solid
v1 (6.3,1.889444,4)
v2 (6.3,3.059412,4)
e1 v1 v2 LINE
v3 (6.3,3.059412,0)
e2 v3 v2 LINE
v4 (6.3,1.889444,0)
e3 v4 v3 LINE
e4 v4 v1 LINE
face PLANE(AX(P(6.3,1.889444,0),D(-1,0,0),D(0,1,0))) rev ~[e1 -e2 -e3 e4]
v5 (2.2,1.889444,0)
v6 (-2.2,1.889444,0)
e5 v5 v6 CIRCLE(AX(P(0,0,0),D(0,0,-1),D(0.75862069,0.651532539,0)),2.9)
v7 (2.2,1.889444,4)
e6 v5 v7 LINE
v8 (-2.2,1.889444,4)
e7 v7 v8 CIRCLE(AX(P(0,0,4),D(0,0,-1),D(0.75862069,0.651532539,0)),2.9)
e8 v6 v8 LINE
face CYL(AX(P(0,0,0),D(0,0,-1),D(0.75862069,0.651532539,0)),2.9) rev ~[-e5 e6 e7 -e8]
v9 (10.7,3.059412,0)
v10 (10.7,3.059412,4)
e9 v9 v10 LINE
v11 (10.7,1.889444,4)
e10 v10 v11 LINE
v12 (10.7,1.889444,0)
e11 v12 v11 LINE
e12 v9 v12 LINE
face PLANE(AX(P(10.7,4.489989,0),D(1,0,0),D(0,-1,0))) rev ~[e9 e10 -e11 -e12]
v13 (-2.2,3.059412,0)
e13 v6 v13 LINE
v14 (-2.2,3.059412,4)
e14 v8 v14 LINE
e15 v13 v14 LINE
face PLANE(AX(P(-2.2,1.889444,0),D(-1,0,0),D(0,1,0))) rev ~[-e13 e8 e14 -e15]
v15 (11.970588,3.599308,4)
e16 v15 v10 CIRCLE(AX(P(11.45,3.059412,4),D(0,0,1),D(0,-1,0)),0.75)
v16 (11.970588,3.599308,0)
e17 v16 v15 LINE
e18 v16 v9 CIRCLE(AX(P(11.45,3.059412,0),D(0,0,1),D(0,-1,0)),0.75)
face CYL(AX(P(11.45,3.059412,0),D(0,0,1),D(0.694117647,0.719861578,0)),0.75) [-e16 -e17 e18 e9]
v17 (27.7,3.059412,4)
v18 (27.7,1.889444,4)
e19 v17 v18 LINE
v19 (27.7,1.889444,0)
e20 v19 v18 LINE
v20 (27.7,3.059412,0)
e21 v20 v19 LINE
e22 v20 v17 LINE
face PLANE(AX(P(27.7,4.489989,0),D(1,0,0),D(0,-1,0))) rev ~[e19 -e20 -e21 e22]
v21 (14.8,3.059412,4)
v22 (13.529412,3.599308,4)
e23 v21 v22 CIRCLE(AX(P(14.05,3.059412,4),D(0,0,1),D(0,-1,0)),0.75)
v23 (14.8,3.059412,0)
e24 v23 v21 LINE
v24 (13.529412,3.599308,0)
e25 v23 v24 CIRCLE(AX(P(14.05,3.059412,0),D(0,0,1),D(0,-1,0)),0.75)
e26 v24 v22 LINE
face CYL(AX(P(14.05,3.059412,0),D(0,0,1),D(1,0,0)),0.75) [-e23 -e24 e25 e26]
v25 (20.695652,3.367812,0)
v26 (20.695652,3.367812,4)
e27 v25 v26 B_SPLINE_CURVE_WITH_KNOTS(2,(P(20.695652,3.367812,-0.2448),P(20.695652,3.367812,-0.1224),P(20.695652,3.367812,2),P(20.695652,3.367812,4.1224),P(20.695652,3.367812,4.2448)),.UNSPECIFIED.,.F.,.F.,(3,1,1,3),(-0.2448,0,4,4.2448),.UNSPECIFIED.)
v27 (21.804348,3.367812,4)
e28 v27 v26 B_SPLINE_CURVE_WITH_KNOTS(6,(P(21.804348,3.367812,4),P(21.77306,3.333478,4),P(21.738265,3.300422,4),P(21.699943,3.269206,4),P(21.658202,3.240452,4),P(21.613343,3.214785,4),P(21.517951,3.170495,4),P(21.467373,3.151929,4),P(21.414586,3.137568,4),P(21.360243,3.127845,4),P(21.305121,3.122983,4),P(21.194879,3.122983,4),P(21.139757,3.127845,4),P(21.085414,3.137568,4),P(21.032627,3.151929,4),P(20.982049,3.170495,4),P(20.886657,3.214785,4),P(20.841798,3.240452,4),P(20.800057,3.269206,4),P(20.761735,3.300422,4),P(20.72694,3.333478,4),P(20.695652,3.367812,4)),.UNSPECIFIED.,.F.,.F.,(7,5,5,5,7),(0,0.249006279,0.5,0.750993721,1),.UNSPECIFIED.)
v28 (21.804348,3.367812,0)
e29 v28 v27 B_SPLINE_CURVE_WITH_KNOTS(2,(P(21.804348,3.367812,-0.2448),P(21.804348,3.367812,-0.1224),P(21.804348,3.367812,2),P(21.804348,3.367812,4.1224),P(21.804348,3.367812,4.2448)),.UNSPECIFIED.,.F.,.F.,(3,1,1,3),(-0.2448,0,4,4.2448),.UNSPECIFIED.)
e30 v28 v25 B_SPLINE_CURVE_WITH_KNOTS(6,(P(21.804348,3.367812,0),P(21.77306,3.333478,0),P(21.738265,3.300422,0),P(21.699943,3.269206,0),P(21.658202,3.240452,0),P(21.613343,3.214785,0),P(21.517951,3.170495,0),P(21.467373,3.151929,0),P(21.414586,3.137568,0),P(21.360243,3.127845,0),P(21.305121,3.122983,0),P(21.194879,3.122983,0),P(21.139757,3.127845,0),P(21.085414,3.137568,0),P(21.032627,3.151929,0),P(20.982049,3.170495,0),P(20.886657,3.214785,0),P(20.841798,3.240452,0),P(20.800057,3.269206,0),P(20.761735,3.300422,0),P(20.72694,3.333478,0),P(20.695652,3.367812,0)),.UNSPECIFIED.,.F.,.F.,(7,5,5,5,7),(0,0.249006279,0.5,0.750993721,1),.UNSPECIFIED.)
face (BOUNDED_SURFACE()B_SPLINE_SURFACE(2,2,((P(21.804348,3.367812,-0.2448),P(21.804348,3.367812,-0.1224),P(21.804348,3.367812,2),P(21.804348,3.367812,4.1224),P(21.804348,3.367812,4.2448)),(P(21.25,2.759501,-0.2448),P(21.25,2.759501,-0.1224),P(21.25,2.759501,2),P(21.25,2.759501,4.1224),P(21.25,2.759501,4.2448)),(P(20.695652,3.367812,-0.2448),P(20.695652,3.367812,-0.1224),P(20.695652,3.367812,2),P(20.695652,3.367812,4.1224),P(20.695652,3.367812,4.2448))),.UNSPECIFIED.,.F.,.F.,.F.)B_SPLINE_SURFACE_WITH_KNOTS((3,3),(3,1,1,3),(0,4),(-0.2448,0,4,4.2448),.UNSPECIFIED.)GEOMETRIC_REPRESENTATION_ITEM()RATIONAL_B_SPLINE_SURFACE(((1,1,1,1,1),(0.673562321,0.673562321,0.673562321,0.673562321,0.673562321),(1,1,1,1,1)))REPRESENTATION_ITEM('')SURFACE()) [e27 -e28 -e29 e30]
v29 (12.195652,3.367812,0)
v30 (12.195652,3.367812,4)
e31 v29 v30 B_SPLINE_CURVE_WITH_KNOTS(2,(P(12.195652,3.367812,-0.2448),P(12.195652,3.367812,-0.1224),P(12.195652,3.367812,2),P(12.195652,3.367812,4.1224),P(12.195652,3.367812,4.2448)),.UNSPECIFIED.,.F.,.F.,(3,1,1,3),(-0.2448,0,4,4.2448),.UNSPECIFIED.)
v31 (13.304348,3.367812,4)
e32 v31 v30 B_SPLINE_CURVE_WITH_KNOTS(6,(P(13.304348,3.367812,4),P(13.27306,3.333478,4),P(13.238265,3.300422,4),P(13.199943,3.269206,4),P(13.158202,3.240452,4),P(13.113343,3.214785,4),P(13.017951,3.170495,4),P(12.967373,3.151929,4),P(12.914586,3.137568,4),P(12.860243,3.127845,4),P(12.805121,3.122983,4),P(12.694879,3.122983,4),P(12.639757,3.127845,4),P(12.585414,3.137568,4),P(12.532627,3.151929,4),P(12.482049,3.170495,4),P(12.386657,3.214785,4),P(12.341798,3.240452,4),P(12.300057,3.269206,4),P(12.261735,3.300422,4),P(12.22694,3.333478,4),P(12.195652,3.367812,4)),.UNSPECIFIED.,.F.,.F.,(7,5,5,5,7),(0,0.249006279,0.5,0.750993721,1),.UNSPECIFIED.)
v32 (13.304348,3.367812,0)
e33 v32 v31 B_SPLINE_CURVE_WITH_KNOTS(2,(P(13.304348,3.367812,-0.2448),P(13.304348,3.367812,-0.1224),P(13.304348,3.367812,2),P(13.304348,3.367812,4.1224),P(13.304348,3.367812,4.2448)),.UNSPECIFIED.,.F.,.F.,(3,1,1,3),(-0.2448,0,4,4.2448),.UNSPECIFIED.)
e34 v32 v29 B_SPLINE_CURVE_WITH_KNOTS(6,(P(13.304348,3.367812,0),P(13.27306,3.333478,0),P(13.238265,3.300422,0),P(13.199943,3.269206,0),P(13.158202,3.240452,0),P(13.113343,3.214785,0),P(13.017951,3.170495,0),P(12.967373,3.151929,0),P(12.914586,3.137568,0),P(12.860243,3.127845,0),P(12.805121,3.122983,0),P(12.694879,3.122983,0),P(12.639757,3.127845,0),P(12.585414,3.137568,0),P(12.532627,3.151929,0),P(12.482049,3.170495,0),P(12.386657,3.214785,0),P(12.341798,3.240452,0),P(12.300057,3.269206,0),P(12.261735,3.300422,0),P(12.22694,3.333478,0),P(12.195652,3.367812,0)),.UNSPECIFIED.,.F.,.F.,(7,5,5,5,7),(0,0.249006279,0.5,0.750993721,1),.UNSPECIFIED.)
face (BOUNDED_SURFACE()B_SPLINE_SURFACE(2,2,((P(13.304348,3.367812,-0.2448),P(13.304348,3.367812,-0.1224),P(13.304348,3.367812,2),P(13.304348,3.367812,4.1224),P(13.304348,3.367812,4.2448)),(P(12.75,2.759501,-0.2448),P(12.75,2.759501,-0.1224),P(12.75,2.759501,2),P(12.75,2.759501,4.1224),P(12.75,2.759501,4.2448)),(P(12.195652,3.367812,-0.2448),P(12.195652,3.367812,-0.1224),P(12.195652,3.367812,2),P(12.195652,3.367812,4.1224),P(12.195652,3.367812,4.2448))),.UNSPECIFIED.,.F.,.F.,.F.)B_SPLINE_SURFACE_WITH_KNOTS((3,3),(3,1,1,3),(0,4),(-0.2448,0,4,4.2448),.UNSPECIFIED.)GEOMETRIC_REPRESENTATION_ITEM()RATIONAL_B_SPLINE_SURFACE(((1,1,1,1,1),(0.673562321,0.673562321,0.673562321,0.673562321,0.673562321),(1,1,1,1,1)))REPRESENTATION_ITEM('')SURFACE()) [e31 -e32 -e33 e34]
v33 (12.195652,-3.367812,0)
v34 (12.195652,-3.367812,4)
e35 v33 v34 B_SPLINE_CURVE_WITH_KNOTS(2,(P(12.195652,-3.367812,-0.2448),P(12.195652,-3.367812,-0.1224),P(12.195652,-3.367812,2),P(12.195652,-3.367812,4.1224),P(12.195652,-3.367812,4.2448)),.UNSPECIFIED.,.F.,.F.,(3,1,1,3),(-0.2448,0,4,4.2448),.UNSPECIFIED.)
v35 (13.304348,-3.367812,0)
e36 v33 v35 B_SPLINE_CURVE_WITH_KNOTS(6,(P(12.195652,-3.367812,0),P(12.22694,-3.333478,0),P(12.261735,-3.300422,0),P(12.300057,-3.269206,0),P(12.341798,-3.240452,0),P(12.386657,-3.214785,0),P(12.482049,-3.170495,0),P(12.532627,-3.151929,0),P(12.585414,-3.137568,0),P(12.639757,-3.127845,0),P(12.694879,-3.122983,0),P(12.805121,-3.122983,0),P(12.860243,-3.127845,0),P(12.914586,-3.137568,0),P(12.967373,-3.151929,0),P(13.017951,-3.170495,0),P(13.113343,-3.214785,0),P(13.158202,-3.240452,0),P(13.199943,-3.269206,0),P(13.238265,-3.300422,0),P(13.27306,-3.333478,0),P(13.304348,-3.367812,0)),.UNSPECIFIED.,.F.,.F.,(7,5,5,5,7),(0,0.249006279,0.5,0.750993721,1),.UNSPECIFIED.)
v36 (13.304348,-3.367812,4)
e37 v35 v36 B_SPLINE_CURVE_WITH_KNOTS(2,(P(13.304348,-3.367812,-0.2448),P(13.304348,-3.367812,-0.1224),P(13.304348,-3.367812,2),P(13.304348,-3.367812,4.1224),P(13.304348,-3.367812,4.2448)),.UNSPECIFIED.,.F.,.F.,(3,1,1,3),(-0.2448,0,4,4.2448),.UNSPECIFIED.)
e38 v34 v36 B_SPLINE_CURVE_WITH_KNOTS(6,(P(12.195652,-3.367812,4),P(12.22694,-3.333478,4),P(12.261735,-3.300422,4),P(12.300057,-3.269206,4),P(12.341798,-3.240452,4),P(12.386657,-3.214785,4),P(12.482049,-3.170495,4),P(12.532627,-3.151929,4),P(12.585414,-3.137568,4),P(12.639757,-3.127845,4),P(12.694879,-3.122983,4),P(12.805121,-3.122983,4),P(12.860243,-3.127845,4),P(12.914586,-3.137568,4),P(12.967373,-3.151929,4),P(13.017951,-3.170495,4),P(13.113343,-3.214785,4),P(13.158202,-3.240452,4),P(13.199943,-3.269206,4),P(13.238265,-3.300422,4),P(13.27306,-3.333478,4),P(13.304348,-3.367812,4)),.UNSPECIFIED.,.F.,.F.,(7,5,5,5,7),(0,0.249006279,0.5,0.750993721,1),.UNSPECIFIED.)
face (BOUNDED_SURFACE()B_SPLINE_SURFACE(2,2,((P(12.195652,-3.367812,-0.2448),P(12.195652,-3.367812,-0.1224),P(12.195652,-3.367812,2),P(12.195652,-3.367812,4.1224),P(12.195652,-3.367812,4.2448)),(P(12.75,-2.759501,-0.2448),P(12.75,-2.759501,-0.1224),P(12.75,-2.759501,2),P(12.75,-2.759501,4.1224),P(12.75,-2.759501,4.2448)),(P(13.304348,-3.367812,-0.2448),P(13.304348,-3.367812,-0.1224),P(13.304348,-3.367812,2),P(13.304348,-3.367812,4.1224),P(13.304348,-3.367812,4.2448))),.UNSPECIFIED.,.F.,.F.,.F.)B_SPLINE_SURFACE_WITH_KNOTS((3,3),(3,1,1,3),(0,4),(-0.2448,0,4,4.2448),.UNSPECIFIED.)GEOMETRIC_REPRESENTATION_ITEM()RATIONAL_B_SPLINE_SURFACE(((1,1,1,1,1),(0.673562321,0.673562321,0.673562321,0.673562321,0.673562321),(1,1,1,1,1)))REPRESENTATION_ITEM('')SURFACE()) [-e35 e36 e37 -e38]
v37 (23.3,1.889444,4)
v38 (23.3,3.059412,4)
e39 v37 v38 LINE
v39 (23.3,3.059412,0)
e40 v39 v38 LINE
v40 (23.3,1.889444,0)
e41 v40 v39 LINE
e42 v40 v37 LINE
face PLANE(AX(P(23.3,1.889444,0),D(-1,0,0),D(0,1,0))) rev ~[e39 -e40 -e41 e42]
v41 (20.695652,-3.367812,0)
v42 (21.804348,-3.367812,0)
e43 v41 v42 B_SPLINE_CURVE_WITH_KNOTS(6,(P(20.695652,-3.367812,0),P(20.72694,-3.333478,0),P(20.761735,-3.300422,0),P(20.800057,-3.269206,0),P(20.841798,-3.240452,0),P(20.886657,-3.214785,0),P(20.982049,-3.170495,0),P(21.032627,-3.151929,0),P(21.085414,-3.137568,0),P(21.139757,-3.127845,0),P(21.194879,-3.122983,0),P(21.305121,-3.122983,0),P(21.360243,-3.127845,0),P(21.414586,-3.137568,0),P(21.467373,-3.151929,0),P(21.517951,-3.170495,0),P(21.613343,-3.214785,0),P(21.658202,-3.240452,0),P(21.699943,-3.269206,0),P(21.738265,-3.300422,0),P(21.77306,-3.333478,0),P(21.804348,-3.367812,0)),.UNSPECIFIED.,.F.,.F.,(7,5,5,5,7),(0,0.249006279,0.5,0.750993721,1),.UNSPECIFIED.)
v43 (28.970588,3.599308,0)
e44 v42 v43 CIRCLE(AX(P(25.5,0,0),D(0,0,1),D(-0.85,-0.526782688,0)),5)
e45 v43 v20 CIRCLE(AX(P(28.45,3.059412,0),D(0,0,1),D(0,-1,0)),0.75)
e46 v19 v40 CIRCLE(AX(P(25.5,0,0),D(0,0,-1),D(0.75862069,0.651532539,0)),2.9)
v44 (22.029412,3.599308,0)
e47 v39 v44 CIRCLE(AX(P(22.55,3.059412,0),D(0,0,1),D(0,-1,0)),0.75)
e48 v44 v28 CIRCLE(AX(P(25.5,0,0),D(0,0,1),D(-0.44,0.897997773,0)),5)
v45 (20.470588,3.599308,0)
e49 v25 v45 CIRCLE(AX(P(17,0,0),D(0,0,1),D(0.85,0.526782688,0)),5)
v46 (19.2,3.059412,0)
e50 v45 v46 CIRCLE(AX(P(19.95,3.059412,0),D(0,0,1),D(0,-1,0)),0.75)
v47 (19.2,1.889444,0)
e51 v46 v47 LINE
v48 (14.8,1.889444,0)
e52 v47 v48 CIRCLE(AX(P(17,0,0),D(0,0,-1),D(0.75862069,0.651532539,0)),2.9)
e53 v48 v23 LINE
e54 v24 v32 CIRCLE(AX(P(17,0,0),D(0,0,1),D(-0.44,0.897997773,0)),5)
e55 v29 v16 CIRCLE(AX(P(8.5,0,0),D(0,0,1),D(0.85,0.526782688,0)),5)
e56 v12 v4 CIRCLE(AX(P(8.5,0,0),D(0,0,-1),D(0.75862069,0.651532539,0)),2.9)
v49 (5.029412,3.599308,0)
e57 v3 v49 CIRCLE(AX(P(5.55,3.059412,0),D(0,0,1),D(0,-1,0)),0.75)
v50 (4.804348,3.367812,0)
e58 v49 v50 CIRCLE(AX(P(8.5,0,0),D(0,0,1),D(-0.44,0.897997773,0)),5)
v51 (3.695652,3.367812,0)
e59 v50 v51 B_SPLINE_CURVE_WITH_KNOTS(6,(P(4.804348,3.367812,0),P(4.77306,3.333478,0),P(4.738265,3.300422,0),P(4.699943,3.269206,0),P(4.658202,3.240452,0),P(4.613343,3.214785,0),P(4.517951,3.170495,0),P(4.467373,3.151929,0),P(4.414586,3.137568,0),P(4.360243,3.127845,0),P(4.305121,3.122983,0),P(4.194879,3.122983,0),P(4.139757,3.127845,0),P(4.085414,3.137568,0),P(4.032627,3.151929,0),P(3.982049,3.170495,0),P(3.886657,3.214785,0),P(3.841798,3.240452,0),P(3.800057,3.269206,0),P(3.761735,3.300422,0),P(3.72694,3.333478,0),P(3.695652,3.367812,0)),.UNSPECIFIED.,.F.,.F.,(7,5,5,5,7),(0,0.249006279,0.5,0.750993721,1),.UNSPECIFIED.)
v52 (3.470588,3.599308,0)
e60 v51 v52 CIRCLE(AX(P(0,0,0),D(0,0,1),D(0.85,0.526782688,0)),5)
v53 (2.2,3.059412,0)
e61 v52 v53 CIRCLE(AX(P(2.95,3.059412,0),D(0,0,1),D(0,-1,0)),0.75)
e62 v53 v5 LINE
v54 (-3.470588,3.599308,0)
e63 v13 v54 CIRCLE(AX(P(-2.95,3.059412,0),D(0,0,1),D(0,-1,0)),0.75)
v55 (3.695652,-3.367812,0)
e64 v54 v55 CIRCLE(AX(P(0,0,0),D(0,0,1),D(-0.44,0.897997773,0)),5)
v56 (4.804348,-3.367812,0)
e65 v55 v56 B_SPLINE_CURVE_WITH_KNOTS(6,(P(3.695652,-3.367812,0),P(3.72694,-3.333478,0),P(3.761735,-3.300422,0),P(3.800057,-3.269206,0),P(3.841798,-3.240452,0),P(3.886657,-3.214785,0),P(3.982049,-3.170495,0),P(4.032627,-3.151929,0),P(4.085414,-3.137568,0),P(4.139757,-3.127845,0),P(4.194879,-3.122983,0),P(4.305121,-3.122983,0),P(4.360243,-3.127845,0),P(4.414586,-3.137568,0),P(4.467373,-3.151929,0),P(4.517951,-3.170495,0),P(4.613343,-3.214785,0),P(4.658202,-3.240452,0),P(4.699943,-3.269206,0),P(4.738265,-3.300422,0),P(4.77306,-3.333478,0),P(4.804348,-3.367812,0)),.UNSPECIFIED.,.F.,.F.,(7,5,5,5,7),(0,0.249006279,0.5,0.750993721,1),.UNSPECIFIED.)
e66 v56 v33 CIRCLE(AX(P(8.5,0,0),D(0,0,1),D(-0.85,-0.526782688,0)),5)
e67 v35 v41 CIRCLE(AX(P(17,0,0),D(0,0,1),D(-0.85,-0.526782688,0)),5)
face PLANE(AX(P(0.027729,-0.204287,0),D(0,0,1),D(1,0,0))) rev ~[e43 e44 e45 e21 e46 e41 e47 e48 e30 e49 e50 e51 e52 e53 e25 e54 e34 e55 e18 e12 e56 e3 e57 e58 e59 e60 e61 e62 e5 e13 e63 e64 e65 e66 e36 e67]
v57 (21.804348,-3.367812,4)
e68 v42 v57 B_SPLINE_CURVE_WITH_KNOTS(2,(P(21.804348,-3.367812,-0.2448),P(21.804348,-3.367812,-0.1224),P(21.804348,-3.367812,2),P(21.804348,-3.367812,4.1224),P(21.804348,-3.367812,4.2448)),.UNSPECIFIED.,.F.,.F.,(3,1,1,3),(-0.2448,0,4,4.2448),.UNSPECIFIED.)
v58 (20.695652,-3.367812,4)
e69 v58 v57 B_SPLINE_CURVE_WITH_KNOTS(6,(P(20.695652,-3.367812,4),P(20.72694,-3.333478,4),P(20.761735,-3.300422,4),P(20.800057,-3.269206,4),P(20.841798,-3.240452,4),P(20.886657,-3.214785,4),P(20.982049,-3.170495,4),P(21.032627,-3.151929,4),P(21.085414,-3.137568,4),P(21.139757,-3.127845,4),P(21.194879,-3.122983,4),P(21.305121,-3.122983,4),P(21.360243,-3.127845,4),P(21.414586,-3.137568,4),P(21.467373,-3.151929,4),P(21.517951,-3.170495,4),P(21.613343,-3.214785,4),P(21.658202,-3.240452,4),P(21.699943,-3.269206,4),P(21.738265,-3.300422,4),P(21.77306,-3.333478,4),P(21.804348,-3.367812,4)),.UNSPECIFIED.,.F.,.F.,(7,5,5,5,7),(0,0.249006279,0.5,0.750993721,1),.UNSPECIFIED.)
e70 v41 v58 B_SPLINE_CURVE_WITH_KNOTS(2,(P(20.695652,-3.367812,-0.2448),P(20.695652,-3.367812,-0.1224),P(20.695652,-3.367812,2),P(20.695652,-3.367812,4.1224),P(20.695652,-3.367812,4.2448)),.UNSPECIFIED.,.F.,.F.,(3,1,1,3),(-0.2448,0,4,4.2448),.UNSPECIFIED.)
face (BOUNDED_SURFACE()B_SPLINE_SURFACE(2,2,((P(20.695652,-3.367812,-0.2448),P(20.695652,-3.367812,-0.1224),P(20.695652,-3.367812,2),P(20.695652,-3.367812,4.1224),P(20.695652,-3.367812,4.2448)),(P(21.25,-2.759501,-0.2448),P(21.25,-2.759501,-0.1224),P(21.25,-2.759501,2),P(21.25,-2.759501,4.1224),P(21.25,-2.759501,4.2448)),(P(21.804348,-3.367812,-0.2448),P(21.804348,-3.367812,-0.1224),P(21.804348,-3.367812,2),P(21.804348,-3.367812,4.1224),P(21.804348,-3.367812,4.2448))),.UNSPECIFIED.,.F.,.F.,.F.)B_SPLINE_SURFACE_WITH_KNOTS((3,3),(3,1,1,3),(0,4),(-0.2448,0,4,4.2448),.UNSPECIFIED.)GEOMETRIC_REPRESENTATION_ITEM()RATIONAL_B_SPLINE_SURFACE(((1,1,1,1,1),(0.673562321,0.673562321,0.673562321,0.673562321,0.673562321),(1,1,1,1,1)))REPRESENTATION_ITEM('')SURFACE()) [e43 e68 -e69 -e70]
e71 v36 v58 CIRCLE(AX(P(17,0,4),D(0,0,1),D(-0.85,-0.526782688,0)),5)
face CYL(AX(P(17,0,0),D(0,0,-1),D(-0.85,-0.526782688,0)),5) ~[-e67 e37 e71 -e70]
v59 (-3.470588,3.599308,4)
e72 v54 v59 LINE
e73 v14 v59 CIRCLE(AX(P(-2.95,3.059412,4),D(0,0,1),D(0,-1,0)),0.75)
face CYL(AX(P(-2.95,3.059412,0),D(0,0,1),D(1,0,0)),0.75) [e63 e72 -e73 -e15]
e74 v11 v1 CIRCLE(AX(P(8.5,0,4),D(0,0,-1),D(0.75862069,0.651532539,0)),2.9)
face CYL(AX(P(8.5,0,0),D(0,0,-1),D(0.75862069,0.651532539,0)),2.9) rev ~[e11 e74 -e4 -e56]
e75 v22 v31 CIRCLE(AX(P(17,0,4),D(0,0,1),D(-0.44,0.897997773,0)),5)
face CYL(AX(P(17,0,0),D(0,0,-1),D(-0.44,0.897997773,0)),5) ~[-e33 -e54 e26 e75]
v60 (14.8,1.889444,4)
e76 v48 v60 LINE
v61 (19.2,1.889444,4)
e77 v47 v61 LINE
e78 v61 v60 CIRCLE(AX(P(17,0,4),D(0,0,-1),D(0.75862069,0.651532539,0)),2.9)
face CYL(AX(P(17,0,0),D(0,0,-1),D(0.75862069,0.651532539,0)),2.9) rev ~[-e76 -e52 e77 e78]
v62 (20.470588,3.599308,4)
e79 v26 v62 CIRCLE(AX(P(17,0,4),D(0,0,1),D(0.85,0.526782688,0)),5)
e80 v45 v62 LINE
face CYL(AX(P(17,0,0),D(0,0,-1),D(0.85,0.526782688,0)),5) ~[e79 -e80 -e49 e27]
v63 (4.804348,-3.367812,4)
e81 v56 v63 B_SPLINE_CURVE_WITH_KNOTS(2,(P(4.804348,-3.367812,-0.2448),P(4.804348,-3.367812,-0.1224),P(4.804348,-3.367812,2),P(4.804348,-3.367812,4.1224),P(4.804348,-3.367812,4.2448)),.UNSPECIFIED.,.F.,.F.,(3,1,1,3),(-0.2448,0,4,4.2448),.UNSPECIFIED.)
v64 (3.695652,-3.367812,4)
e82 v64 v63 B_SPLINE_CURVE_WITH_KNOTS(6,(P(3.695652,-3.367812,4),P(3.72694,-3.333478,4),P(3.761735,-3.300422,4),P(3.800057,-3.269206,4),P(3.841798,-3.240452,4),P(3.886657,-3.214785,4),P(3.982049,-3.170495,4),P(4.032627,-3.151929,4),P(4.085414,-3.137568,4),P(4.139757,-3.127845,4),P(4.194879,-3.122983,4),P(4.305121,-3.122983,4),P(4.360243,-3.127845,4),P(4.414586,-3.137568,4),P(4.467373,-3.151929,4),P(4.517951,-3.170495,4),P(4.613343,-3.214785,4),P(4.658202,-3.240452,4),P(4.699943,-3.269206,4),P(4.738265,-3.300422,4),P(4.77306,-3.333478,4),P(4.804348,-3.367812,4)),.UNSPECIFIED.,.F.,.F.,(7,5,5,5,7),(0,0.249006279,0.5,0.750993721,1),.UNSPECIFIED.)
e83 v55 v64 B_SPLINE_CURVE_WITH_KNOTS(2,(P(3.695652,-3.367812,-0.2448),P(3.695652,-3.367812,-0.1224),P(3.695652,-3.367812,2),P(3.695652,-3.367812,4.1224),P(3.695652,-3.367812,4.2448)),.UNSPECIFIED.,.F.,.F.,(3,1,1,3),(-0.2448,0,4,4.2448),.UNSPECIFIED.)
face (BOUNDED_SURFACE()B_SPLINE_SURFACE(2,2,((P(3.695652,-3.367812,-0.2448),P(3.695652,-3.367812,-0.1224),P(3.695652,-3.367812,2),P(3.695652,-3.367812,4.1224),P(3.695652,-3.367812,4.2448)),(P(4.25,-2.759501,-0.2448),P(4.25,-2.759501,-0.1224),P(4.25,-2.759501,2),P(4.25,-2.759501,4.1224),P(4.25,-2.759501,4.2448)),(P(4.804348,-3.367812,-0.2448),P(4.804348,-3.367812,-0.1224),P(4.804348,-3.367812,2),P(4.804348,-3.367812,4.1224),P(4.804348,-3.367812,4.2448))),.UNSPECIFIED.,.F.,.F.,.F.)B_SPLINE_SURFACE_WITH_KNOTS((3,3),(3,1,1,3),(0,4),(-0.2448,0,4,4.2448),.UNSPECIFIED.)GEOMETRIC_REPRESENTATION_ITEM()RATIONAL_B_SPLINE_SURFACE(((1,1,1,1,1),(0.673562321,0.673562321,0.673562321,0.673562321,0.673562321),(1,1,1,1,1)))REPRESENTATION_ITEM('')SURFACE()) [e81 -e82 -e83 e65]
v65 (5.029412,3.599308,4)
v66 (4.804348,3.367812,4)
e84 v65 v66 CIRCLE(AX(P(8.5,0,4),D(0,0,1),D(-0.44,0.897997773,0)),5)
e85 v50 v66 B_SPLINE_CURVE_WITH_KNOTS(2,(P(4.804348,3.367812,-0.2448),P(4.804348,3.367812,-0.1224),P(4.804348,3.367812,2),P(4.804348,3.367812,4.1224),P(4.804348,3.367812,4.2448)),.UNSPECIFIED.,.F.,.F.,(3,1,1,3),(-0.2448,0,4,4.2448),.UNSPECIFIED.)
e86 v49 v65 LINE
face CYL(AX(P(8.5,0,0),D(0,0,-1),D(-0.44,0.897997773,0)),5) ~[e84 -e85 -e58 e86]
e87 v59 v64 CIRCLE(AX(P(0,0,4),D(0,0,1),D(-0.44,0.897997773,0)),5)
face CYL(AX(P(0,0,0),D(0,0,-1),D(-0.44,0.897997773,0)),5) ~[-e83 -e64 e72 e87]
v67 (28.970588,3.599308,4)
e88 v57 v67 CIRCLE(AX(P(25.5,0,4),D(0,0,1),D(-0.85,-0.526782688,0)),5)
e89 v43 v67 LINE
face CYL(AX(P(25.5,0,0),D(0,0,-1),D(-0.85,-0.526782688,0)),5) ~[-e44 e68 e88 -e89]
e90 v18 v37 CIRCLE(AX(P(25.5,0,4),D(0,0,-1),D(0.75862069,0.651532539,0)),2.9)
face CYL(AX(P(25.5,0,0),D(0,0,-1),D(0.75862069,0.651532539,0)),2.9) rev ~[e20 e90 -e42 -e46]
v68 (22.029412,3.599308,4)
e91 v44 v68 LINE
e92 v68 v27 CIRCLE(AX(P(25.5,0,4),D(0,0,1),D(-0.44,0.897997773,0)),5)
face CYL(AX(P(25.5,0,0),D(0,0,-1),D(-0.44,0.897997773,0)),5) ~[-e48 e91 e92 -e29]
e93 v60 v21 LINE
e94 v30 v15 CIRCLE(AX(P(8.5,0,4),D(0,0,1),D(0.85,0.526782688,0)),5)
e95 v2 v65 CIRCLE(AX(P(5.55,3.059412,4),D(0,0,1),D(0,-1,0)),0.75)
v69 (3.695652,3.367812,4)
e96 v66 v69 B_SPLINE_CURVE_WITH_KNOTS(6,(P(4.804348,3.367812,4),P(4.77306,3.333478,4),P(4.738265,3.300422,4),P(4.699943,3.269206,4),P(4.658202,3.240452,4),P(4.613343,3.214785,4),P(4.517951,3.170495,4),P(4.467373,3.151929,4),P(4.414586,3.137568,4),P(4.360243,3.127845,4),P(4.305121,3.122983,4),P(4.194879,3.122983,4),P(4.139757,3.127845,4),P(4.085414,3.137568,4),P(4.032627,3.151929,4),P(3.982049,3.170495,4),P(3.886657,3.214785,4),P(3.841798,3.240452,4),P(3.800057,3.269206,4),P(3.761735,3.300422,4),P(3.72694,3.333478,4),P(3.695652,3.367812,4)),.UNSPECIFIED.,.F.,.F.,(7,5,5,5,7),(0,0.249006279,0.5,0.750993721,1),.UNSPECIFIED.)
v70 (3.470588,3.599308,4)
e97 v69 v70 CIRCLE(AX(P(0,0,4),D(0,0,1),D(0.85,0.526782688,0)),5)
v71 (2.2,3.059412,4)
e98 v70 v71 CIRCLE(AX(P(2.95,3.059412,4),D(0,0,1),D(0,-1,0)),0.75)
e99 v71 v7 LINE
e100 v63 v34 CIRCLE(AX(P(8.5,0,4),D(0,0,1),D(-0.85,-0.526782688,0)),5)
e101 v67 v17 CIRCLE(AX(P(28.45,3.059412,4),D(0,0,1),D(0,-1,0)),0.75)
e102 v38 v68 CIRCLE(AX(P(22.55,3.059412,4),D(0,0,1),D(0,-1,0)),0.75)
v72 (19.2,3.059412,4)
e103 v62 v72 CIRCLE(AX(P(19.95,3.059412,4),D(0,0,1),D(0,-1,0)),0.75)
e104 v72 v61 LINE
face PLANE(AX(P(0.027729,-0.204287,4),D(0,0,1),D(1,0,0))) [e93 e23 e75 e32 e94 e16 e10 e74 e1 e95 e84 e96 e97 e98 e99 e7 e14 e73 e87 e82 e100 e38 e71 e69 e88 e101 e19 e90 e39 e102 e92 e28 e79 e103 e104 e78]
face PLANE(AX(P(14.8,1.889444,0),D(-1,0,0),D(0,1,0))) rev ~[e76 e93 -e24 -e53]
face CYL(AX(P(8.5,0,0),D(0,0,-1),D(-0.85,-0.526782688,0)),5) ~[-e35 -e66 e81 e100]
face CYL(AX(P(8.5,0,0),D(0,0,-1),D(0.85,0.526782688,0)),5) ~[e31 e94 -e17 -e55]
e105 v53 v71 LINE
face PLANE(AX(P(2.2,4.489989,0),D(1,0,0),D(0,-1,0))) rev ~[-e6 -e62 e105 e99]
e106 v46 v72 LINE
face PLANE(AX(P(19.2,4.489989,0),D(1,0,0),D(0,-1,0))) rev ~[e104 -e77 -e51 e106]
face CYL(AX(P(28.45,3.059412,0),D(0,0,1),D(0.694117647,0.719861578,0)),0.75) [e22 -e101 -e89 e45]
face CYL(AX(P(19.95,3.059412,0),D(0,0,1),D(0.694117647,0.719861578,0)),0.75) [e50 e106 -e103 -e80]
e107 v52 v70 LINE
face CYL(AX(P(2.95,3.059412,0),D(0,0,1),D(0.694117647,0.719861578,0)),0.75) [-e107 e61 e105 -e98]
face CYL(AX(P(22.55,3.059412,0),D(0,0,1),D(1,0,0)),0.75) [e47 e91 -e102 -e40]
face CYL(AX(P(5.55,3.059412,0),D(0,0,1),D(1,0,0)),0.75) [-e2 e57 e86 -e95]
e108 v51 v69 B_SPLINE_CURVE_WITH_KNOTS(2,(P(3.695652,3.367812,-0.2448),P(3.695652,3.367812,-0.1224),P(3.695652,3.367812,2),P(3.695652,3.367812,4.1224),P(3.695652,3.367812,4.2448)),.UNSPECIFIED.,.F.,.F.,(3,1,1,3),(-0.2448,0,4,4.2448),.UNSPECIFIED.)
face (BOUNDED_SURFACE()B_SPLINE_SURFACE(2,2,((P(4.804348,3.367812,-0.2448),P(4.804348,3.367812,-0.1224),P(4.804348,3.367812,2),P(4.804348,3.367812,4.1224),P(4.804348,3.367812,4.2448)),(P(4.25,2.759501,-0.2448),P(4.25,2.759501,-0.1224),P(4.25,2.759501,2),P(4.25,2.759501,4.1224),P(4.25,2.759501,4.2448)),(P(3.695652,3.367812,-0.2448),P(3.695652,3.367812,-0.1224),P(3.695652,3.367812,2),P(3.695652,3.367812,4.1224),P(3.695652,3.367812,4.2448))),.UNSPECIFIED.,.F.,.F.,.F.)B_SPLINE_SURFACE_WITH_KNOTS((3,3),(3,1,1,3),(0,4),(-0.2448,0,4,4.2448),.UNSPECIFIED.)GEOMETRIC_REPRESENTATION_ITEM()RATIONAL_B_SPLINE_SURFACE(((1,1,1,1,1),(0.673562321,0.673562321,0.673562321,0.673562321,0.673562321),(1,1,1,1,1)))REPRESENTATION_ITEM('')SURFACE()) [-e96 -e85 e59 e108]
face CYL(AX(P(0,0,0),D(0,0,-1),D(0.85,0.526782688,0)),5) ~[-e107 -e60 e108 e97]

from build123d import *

# Parameters (mm, degrees)
F1_DEPTH = 4
F2_R     = 0.75


with BuildPart() as f1:
    # F0 (on Top) → F1 (new body)
    with BuildSketch(Plane.XY):
        with BuildLine():
            ThreePointArc((2.2, 1.8894443628), (0, -2.9), (-2.2, 1.8894443628))
            Line((-2.2, 1.8894443628), (-2.2, 4.4899888641))
            ThreePointArc((-2.2, 4.4899888641), (-3.7064971339, -3.3558723153), (4.25, -2.6339134382))
            ThreePointArc((4.25, -2.6339134382), (3.5, 0), (4.25, 2.6339134382))
            ThreePointArc((4.25, 2.6339134382), (3.3558723153, 3.7064971339), (2.2, 4.4899888641))
            Line((2.2, 4.4899888641), (2.2, 1.8894443628))
        make_face()
        with BuildLine():
            ThreePointArc((4.25, 2.6339134382), (3.5, 0), (4.25, -2.6339134382))
            ThreePointArc((4.25, -2.6339134382), (5, 0), (4.25, 2.6339134382))
        make_face()
        with BuildLine():
            ThreePointArc((4.25, 2.6339134382), (5, 0), (4.25, -2.6339134382))
            ThreePointArc((4.25, -2.6339134382), (8.5, -5), (12.75, -2.6339134382))
            ThreePointArc((12.75, -2.6339134382), (12, 0), (12.75, 2.6339134382))
            ThreePointArc((12.75, 2.6339134382), (11.8558723153, 3.7064971339), (10.7, 4.4899888641))
            Line((10.7, 4.4899888641), (10.7, 1.8894443628))
            ThreePointArc((10.7, 1.8894443628), (8.5, -2.9), (6.3, 1.8894443628))
            Line((6.3, 1.8894443628), (6.3, 4.4899888641))
            ThreePointArc((6.3, 4.4899888641), (5.1441276847, 3.7064971339), (4.25, 2.6339134382))
        make_face()
        with BuildLine():
            ThreePointArc((12.75, 2.6339134382), (12, 0), (12.75, -2.6339134382))
            ThreePointArc((12.75, -2.6339134382), (13.5, 0), (12.75, 2.6339134382))
        make_face()
        with BuildLine():
            ThreePointArc((12.75, 2.6339134382), (13.5, 0), (12.75, -2.6339134382))
            ThreePointArc((12.75, -2.6339134382), (17, -5), (21.25, -2.6339134382))
            ThreePointArc((21.25, -2.6339134382), (20.5, 0), (21.25, 2.6339134382))
            ThreePointArc((21.25, 2.6339134382), (20.3558723153, 3.7064971339), (19.2, 4.4899888641))
            Line((19.2, 4.4899888641), (19.2, 1.8894443628))
            ThreePointArc((19.2, 1.8894443628), (17, -2.9), (14.8, 1.8894443628))
            Line((14.8, 1.8894443628), (14.8, 4.4899888641))
            ThreePointArc((14.8, 4.4899888641), (13.6441276847, 3.7064971339), (12.75, 2.6339134382))
        make_face()
        with BuildLine():
            ThreePointArc((21.25, 2.6339134382), (20.5, 0), (21.25, -2.6339134382))
            ThreePointArc((21.25, -2.6339134382), (22, 0), (21.25, 2.6339134382))
        make_face()
        with BuildLine():
            ThreePointArc((21.25, 2.6339134382), (22, 0), (21.25, -2.6339134382))
            ThreePointArc((21.25, -2.6339134382), (29.2064971339, -3.3558723153), (27.7, 4.4899888641))
            Line((27.7, 4.4899888641), (27.7, 1.8894443628))
            ThreePointArc((27.7, 1.8894443628), (25.5, -2.9), (23.3, 1.8894443628))
            Line((23.3, 1.8894443628), (23.3, 4.4899888641))
            ThreePointArc((23.3, 4.4899888641), (22.1441276847, 3.7064971339), (21.25, 2.6339134382))
        make_face()
    extrude(amount=F1_DEPTH)

    # F2
    f2_edges = [f1.edges().sort_by_distance(p)[0] for p in [
        (-2.2, 4.489989, 2),
        (2.2, 4.489989, 2),
        (6.3, 4.489989, 2),
        (10.7, 4.489989, 2),
        (14.8, 4.489989, 2),
        (19.2, 4.489989, 2),
        (23.3, 4.489989, 2),
        (27.7, 4.489989, 2),
        (21.25, 2.633913, 2),
        (12.75, 2.633913, 2),
        (4.25, 2.633913, 2),
        (21.25, -2.633913, 2),
        (12.75, -2.633913, 2),
        (4.25, -2.633913, 2),
    ]]
    fillet(f2_edges, radius=F2_R)


solid = f1.part
